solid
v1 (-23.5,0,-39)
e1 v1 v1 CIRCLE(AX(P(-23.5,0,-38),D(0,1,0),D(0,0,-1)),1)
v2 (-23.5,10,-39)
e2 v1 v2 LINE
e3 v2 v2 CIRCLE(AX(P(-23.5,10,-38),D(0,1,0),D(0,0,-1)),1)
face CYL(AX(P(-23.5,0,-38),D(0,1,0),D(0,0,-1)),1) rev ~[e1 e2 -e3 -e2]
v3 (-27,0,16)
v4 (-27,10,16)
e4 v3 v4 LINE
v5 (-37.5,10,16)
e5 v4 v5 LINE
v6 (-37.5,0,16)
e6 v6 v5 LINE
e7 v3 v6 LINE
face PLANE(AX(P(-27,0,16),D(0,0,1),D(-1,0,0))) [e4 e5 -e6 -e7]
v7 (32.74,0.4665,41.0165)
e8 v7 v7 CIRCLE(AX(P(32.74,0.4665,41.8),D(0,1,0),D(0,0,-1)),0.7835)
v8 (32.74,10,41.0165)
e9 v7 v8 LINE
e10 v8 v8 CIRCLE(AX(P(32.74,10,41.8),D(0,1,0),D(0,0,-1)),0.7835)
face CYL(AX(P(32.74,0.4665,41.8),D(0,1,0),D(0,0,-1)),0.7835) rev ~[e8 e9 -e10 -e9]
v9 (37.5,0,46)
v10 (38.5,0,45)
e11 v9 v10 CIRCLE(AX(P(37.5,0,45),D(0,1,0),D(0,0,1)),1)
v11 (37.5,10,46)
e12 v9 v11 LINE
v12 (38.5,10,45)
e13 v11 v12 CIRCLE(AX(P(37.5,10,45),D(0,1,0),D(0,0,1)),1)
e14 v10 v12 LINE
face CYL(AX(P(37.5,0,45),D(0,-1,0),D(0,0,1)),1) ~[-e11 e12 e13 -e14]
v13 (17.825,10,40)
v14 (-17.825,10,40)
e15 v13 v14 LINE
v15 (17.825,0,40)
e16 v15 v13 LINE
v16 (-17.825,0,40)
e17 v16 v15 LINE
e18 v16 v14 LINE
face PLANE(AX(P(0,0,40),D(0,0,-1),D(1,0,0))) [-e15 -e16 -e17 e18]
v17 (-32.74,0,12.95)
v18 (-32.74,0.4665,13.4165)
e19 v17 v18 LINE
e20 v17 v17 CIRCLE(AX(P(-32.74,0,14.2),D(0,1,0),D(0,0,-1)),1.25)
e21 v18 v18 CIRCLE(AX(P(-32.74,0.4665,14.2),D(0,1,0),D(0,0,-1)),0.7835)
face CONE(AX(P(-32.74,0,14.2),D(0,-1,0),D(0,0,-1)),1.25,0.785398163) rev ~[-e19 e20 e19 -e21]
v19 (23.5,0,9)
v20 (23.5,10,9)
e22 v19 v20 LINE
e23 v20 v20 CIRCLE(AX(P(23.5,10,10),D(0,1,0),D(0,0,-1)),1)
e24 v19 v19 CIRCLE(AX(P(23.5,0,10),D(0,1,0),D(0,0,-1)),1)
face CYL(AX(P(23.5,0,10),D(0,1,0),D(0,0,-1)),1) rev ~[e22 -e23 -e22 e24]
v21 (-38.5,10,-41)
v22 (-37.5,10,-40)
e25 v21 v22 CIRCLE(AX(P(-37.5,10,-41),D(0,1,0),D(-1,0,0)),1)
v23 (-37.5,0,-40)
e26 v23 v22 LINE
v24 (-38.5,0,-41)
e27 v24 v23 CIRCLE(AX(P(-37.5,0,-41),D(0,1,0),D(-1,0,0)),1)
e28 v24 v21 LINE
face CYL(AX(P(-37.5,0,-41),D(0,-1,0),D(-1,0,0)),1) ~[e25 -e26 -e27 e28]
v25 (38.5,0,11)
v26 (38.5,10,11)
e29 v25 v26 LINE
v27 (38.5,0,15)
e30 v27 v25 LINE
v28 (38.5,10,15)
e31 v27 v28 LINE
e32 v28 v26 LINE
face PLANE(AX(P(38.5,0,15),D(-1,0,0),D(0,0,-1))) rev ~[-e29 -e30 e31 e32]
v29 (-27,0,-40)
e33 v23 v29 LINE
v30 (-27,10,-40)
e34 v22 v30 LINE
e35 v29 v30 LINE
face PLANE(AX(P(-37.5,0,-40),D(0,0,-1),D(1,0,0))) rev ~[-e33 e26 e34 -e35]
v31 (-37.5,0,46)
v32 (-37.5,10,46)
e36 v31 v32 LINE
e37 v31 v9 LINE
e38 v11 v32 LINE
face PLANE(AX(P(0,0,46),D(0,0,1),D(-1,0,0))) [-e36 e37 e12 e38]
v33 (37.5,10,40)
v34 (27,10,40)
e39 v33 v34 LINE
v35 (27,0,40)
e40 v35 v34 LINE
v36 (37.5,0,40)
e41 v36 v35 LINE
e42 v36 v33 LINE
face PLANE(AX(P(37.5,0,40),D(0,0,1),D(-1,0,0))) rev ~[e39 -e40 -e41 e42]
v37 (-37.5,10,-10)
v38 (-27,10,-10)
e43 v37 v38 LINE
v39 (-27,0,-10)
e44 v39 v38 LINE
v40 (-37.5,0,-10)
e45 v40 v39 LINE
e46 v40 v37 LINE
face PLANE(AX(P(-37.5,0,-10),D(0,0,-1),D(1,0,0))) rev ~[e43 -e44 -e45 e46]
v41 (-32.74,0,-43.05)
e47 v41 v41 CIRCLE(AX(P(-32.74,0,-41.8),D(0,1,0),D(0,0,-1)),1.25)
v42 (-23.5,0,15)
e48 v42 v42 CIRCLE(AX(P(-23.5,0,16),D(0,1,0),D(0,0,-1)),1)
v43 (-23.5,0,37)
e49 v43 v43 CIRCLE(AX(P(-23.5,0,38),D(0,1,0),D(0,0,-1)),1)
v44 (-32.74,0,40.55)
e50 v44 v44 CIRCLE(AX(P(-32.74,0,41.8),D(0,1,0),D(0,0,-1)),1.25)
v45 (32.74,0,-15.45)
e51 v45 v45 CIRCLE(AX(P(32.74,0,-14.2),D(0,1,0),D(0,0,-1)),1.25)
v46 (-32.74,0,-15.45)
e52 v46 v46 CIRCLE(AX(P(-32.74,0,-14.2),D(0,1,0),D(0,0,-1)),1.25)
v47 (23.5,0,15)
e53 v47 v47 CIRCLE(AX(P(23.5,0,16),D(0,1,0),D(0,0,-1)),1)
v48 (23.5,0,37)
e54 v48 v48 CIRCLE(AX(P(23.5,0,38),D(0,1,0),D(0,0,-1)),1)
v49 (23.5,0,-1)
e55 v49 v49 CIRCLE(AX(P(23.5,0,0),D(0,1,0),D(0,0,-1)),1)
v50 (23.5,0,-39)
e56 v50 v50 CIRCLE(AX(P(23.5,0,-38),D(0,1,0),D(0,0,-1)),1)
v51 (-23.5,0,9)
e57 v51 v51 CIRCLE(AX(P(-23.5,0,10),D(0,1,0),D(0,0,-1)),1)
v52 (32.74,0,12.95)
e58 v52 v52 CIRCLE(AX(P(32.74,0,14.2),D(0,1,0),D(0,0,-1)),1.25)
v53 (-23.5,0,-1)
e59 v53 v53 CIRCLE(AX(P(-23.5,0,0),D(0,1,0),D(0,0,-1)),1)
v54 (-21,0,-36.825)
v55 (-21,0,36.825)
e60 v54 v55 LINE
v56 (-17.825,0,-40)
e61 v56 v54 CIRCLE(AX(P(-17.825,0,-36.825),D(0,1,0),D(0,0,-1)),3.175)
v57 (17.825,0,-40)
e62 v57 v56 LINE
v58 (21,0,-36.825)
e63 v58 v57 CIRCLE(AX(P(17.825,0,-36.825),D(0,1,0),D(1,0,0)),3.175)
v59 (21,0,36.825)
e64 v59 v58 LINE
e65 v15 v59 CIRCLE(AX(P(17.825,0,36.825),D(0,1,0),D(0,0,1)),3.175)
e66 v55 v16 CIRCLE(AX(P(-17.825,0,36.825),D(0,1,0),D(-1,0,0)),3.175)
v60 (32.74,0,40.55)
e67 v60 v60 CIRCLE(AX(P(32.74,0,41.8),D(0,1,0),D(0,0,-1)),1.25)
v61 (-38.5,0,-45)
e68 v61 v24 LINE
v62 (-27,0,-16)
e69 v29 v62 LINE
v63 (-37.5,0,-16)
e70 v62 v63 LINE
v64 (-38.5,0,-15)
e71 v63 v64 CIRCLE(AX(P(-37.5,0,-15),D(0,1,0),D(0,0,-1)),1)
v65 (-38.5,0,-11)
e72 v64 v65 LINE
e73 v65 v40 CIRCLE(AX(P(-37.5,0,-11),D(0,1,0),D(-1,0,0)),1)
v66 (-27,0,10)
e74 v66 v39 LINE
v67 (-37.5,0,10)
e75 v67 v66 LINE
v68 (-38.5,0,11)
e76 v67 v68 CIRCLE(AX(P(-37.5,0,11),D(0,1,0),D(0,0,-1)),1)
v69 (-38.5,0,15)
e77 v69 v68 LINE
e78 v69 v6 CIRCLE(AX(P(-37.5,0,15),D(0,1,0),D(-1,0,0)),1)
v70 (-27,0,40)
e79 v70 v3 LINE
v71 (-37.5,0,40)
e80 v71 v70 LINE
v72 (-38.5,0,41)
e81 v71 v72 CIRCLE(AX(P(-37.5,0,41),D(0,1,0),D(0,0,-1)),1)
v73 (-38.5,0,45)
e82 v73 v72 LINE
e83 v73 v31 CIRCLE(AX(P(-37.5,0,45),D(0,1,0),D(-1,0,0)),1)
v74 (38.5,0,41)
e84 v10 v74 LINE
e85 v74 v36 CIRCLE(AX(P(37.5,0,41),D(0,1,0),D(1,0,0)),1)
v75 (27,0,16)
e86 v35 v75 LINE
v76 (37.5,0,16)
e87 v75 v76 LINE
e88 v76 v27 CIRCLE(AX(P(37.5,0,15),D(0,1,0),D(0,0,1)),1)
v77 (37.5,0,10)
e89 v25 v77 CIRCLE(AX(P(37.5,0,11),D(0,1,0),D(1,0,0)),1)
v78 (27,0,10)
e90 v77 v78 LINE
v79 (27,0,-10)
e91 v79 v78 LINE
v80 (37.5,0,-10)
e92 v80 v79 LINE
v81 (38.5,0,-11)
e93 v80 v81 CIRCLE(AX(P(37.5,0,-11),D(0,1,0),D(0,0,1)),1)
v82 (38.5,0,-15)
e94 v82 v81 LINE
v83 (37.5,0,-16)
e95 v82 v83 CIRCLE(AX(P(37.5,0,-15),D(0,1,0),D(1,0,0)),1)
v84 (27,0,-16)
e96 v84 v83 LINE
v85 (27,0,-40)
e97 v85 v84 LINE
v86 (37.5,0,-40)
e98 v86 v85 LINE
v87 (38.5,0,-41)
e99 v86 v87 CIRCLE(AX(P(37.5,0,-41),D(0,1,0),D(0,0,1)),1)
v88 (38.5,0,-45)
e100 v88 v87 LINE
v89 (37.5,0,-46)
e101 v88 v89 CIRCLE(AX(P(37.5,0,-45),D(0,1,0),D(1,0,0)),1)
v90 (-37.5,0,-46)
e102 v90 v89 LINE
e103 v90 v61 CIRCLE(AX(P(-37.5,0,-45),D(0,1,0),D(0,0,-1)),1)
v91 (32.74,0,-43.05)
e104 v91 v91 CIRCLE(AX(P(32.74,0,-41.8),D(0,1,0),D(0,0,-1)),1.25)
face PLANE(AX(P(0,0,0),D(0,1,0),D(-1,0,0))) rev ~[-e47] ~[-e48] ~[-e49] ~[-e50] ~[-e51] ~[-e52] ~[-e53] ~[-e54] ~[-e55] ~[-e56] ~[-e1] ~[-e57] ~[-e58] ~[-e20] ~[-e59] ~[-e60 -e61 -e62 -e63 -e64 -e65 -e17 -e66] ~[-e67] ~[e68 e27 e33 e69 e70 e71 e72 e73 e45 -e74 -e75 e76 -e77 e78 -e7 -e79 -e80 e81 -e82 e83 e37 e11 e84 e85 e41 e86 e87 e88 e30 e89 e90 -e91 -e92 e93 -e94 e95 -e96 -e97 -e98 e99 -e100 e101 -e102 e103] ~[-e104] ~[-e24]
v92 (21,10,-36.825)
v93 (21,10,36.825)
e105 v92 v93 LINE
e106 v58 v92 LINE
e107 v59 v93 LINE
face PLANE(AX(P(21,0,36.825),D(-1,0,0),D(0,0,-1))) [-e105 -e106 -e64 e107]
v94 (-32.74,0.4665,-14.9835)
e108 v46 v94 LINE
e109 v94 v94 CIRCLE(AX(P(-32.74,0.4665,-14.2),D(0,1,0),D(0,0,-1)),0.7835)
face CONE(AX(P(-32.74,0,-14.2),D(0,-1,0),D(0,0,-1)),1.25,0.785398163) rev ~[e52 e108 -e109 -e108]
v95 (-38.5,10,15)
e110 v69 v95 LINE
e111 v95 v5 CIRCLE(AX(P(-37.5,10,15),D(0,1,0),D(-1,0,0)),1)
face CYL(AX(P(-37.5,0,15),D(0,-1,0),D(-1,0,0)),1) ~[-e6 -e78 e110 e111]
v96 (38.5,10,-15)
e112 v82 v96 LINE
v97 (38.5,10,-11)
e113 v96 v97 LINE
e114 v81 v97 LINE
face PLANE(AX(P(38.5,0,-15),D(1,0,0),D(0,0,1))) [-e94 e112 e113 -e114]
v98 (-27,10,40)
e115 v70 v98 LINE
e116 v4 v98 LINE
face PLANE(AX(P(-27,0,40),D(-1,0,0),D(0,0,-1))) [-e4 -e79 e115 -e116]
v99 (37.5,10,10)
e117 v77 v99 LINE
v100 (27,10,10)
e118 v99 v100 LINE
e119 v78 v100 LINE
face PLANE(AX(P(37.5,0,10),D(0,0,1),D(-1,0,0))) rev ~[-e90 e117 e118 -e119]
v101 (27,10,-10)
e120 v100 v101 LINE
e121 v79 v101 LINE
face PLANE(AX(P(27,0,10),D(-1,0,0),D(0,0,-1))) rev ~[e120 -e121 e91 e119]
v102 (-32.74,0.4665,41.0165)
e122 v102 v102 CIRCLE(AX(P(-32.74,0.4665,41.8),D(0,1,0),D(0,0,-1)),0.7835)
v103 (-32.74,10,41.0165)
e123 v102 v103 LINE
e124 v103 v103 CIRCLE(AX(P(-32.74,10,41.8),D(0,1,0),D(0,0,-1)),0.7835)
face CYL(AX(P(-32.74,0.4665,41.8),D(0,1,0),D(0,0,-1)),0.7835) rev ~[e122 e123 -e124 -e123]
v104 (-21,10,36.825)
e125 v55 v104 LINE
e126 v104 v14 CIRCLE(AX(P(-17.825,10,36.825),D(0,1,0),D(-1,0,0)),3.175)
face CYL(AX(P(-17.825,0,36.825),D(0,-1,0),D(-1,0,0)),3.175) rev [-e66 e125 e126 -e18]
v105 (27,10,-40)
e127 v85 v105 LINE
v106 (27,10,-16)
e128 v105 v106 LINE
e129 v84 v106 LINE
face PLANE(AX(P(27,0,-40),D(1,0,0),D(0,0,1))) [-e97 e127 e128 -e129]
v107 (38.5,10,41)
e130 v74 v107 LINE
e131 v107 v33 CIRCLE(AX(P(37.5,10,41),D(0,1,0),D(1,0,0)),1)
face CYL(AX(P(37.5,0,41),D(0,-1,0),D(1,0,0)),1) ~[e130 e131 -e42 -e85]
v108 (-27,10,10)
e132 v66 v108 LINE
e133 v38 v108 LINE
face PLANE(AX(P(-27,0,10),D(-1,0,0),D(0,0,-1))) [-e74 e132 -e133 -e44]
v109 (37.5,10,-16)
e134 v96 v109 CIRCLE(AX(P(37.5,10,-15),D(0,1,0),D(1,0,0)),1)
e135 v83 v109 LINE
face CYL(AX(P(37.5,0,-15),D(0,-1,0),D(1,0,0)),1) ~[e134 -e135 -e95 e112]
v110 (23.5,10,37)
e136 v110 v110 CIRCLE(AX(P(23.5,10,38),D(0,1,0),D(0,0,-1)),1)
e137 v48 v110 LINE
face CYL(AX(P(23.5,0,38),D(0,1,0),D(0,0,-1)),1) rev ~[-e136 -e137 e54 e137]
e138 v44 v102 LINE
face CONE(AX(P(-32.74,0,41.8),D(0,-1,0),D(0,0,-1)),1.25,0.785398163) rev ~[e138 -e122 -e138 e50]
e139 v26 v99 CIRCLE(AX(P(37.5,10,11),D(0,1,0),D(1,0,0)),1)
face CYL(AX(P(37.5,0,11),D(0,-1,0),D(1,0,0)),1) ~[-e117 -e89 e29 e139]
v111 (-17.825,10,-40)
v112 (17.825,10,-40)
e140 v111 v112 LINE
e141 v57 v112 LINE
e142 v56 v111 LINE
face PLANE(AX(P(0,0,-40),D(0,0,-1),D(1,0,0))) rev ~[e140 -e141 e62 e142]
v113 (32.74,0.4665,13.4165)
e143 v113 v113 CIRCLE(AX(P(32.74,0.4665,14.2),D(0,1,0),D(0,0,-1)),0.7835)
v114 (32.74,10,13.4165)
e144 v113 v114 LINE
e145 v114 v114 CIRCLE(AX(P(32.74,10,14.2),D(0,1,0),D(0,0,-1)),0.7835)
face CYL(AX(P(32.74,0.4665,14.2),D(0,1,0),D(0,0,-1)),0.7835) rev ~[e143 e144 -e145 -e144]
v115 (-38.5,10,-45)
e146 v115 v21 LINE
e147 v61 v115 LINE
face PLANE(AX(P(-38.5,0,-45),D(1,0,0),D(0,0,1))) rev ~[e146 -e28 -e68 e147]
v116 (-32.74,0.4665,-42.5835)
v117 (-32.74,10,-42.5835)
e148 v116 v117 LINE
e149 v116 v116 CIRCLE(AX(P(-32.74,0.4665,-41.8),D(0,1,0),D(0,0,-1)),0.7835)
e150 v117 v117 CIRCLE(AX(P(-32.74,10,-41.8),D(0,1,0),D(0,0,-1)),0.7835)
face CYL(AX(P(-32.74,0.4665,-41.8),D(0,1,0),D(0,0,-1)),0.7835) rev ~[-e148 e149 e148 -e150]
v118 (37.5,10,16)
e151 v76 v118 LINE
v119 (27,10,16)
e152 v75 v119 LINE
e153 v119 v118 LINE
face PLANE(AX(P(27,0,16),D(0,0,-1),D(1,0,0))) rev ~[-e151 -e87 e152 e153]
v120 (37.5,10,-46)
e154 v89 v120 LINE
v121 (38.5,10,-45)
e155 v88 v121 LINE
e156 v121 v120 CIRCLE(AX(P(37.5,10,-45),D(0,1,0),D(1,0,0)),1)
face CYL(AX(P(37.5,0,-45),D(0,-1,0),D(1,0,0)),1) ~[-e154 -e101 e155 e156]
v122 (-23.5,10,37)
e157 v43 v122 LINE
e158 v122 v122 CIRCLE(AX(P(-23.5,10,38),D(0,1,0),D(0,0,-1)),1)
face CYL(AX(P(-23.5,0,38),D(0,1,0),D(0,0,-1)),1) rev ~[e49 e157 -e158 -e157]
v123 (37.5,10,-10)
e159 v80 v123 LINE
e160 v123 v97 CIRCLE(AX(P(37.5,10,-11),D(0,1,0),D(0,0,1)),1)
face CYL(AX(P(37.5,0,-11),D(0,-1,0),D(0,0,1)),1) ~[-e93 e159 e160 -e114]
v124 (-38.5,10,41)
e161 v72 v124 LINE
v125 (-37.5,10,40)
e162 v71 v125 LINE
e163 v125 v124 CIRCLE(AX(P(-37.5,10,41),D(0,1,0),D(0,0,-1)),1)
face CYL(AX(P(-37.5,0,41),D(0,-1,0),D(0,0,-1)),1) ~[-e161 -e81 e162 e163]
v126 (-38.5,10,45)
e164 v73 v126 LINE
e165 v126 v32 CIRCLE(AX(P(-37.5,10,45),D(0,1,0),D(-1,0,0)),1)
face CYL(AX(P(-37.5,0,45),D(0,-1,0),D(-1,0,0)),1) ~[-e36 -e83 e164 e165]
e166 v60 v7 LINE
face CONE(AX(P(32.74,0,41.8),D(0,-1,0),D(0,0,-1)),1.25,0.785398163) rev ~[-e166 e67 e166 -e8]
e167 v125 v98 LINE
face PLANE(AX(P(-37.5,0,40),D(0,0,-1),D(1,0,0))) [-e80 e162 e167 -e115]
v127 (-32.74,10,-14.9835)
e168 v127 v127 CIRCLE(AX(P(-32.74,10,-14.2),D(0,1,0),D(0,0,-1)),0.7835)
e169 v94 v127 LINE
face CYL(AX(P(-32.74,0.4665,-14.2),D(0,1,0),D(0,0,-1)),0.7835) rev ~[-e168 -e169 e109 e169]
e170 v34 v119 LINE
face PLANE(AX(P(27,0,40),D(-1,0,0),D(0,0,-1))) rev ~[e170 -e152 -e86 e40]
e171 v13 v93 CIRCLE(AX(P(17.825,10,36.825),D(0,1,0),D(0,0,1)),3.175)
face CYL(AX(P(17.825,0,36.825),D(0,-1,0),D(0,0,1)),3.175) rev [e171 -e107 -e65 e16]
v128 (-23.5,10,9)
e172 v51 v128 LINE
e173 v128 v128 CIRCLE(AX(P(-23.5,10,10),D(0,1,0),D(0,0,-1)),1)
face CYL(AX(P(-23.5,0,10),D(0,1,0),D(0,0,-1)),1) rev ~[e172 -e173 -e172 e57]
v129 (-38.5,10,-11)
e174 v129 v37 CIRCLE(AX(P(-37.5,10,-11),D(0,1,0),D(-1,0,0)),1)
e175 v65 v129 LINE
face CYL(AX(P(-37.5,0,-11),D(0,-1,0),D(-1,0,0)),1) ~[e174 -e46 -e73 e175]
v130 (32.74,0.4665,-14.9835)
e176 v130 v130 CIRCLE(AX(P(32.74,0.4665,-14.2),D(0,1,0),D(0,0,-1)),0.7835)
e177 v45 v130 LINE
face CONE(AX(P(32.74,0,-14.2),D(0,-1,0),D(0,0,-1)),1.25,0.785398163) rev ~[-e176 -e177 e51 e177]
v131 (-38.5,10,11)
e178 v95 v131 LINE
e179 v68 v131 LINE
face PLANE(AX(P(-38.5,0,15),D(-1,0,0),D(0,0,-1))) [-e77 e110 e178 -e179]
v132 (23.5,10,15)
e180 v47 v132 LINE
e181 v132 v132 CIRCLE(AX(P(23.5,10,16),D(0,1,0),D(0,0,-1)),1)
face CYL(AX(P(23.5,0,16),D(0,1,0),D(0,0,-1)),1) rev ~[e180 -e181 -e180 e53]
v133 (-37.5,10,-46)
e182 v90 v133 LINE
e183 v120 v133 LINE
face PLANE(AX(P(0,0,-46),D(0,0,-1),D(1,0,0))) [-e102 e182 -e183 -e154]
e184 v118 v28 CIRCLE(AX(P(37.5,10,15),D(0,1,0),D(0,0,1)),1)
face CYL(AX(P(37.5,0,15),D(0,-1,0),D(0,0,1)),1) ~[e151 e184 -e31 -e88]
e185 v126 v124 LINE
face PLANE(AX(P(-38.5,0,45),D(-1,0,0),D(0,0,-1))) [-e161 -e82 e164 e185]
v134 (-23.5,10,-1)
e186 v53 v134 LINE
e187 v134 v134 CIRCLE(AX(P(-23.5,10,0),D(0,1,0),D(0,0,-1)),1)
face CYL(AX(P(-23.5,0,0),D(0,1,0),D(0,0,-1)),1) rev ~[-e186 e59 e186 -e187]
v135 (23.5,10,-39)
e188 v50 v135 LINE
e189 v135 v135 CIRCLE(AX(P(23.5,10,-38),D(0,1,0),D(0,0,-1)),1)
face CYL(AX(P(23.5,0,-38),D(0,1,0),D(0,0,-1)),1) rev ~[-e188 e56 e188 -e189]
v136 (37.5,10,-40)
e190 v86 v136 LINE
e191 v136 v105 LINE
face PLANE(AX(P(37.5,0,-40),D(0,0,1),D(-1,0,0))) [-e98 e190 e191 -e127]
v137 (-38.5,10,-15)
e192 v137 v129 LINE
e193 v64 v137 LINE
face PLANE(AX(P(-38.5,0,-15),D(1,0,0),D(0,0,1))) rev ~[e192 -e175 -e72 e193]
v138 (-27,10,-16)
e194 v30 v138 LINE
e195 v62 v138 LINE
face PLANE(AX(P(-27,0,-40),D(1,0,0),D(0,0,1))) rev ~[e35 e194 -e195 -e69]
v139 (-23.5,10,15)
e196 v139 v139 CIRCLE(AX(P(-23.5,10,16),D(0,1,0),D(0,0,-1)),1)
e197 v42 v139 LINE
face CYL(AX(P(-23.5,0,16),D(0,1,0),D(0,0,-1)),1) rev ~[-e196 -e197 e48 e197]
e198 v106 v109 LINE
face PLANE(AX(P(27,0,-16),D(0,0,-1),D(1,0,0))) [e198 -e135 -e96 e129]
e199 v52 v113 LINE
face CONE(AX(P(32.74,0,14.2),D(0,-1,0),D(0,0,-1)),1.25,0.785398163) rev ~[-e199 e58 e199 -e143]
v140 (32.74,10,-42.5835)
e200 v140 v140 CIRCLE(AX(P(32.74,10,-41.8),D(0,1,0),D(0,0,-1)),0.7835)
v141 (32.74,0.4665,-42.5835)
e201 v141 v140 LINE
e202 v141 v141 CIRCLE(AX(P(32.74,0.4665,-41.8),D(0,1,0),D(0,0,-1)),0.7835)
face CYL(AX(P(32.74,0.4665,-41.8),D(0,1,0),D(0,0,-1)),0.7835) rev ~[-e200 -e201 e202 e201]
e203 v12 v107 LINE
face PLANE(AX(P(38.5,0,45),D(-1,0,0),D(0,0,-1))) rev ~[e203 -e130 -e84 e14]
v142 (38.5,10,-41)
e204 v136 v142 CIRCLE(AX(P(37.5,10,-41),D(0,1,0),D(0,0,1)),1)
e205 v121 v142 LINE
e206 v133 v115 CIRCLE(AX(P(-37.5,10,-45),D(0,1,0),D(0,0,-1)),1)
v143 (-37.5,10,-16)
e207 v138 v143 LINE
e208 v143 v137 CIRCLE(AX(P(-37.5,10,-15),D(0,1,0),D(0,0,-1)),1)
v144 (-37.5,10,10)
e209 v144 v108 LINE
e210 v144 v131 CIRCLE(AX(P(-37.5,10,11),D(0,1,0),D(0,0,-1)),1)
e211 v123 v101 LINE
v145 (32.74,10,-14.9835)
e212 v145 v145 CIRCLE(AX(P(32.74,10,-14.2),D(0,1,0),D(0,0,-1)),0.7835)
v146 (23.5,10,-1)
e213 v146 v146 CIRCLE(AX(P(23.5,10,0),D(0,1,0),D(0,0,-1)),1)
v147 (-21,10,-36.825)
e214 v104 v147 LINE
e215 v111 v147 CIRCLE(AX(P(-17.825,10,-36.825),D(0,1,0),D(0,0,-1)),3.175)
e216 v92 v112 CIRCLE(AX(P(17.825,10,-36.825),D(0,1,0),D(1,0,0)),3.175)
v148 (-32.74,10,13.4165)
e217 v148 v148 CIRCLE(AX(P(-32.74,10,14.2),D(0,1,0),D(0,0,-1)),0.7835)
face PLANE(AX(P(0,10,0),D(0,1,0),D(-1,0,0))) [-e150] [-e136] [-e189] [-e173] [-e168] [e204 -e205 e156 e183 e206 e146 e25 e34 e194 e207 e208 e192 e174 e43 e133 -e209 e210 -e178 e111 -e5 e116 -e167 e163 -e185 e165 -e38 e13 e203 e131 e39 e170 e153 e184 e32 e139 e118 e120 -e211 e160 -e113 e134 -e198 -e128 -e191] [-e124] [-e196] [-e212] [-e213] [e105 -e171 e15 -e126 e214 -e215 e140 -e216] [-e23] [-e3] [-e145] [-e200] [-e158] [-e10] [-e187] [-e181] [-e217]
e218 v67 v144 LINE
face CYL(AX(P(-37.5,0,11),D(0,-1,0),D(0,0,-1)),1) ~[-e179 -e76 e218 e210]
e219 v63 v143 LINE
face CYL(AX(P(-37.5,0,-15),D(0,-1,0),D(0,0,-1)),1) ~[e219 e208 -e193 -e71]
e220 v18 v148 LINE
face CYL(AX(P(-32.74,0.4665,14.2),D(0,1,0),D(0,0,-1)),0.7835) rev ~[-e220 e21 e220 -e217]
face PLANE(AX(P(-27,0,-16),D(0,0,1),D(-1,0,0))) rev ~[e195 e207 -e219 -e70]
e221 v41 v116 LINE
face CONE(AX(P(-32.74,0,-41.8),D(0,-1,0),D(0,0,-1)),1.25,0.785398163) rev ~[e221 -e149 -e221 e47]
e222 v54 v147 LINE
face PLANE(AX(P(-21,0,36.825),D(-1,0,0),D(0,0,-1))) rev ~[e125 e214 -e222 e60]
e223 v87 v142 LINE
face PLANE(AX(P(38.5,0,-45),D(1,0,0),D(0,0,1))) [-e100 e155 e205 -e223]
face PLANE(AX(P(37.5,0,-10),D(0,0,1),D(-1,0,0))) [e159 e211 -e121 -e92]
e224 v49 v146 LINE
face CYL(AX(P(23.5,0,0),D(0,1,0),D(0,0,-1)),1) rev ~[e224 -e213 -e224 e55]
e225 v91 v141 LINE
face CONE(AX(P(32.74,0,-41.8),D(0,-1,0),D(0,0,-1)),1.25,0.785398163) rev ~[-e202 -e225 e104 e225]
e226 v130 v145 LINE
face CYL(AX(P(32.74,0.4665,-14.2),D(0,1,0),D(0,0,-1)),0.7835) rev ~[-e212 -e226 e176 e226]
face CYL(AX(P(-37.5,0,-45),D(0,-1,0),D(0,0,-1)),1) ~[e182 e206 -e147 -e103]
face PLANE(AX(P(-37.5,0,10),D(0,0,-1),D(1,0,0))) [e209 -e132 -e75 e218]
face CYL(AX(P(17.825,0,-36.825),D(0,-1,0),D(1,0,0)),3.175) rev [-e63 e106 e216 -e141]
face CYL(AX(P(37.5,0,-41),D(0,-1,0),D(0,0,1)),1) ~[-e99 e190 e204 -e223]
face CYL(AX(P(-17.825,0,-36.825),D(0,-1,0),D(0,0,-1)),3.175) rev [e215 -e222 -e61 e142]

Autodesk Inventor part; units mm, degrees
ref_plane "YZ Plane" through (0, 0, 0) normal (1, 0, 0) x (0, 1, 0)
ref_plane "XZ Plane" through (0, 0, 0) normal (0, 1, 0) x (-1, 0, 0)
ref_plane "XY Plane" through (0, 0, 0) normal (0, 0, 1) x (1, 0, 0)
sketch "Sketch2" plane through (0, 0, 0) normal (0, 1, 0) x (-1, 0, 0)
  line L0 (0, 0) -> (0, 40)
  line L1 (0, 40) -> (17.825, 40)
  line L2 (0, 40) -> (0, 46) construction
  line L3 (0, 46) -> (37.5, 46)
  line L4 (21, 36.825) -> (21, 0)
  line L5 (38.5, 45) -> (38.5, 41)
  line L6 (37.5, 40) -> (27, 40)
  line L7 (27, 40) -> (27, 16)
  line L8 (27, 16) -> (37.5, 16)
  line L9 (38.5, 15) -> (38.5, 11)
  line L10 (37.5, 10) -> (27, 10)
  line L11 (27, 10) -> (27, 0)
  line L12 (0, 0) -> (21, 0)
  line L13 (27, 28) -> (38.5, 28)
  arc A0 (21, 36.825) -> (17.825, 40) centre (17.825, 36.825) ccw
  arc A1 (38.5, 45) -> (37.5, 46) centre (37.5, 45) ccw
  arc A2 (37.5, 40) -> (38.5, 41) centre (37.5, 41) ccw
  arc A3 (38.5, 15) -> (37.5, 16) centre (37.5, 15) ccw
  arc A4 (37.5, 10) -> (38.5, 11) centre (37.5, 11) ccw
  line L14 (0, -40) -> (17.825, -40)
  line L15 (0, -46) -> (37.5, -46)
  line L16 (21, -36.825) -> (21, 0)
  line L17 (38.5, -45) -> (38.5, -41)
  line L18 (37.5, -40) -> (27, -40)
  line L19 (27, -40) -> (27, -16)
  line L20 (27, -16) -> (37.5, -16)
  line L21 (38.5, -15) -> (38.5, -11)
  line L22 (37.5, -10) -> (27, -10)
  line L23 (27, -10) -> (27, 0)
  arc A5 (17.825, -40) -> (21, -36.825) centre (17.825, -36.825) ccw
  arc A6 (37.5, -46) -> (38.5, -45) centre (37.5, -45) ccw
  arc A7 (38.5, -41) -> (37.5, -40) centre (37.5, -41) ccw
  arc A8 (37.5, -16) -> (38.5, -15) centre (37.5, -15) ccw
  arc A9 (38.5, -11) -> (37.5, -10) centre (37.5, -11) ccw
  line L24 (0, 40) -> (-17.825, 40)
  line L25 (0, 46) -> (-37.5, 46)
  line L26 (-21, 36.825) -> (-21, 0)
  line L27 (-38.5, 45) -> (-38.5, 41)
  line L28 (-37.5, 40) -> (-27, 40)
  line L29 (-27, 40) -> (-27, 16)
  line L30 (-27, 16) -> (-37.5, 16)
  line L31 (-38.5, 15) -> (-38.5, 11)
  line L32 (-37.5, 10) -> (-27, 10)
  line L33 (-27, 10) -> (-27, 0)
  arc A10 (-17.825, 40) -> (-21, 36.825) centre (-17.825, 36.825) ccw
  arc A11 (-37.5, 46) -> (-38.5, 45) centre (-37.5, 45) ccw
  arc A12 (-38.5, 41) -> (-37.5, 40) centre (-37.5, 41) ccw
  arc A13 (-37.5, 16) -> (-38.5, 15) centre (-37.5, 15) ccw
  arc A14 (-38.5, 11) -> (-37.5, 10) centre (-37.5, 11) ccw
  line L34 (0, -46) -> (-37.5, -46)
  arc A15 (-38.5, -45) -> (-37.5, -46) centre (-37.5, -45) ccw
  line L35 (-38.5, -45) -> (-38.5, -41)
  arc A16 (-37.5, -40) -> (-38.5, -41) centre (-37.5, -41) ccw
  line L36 (-37.5, -40) -> (-27, -40)
  line L37 (-27, -40) -> (-27, -16)
  line L38 (-27, -16) -> (-37.5, -16)
  arc A17 (-38.5, -15) -> (-37.5, -16) centre (-37.5, -15) ccw
  line L39 (-38.5, -15) -> (-38.5, -11)
  arc A18 (-37.5, -10) -> (-38.5, -11) centre (-37.5, -11) ccw
  line L40 (-37.5, -10) -> (-27, -10)
  line L41 (-27, -10) -> (-27, 0)
  line L42 (-21, -36.825) -> (-21, 0)
  line L43 (0, -40) -> (-17.825, -40)
  arc A19 (-21, -36.825) -> (-17.825, -40) centre (-17.825, -36.825) ccw
  line L44 (23.5, 38) -> (23.5, -46) construction
  point P0 (21, 40)
  point P1 (38.5, 46)
  point P2 (38.5, 40)
  point P3 (38.5, 16)
  point P4 (38.5, 10)
  point P5 (32.74, 41.8)
  point P6 (32.74, 14.2)
  point P7 (32.74, -41.8)
  point P8 (32.74, -14.2)
  point P9 (-32.74, 41.8)
  point P10 (-32.74, 14.2)
  point P11 (-32.74, -41.8)
  point P12 (-32.74, -14.2)
  point P13 (-23.5, 38)
  point P14 (23.5, -38)
  point P15 (23.5, 10)
  point P16 (23.5, 16)
  point P17 (-23.5, 38)
  point P18 (-23.5, -38)
  point P19 (-23.5, 10)
  point P20 (-23.5, 16)
  point P21 (23.5, 0)
  point P22 (-23.5, 0)
  dimension "d2" = 40
  dimension "d3" = 6
  dimension "d4" = 38.5
  dimension "d5" = 21
  dimension "d6" = 6
  dimension "d7" = 11.5
  dimension "d8" = 24
  dimension "d9" = 11.5
  dimension "d10" = 6
  dimension "d11" = 11.5
  dimension "d12" = 5.74
  dimension "d13" = 27.6
  dimension "d14" = 3.175
  dimension "d15" = 1
  dimension "d26" = 8
  dimension "d37" = 47
  dimension "d40" = 22
  dimension "d42" = 48
  dimension "d43" = 6
  dimension "d44" = 46
extrude "Extrusion2" add sketch "Sketch2" along normal blind 10
hole "Hole1" at (-32.74, 0, 41.8) at (-32.74, 0, 14.2) at (-32.74, 0, -41.8) at (-32.74, 0, -14.2) at (32.74, 0, 41.8) at (32.74, 0, 14.2) at (32.74, 0, -14.2) at (32.74, 0, -41.8) direction (0, 1, 0) diameter 1.567 end through all countersink diameter 2.5 countersink angle 90 thread size "M2x0.4" class "6H" standard "ISO Metric profile"
hole "Hole2" at (-23.5, 0, 38) at (23.5, 0, 38) at (-23.5, 0, 16) at (-23.5, 0, 10) at (-23.5, 0, -38) at (23.5, 0, -38) at (23.5, 0, 16) at (23.5, 0, 10) at (23.5, 0, 0) at (-23.5, 0, 0) direction (0, 1, 0) diameter 2 end through all
equation "\"d6\" = d3"
equation "\"d9\" = d7"
equation "\"d10\" = d3"
equation "\"d11\" = d7"
properties part number "rapoukBasev5" material "EN AW-6060 T6"
